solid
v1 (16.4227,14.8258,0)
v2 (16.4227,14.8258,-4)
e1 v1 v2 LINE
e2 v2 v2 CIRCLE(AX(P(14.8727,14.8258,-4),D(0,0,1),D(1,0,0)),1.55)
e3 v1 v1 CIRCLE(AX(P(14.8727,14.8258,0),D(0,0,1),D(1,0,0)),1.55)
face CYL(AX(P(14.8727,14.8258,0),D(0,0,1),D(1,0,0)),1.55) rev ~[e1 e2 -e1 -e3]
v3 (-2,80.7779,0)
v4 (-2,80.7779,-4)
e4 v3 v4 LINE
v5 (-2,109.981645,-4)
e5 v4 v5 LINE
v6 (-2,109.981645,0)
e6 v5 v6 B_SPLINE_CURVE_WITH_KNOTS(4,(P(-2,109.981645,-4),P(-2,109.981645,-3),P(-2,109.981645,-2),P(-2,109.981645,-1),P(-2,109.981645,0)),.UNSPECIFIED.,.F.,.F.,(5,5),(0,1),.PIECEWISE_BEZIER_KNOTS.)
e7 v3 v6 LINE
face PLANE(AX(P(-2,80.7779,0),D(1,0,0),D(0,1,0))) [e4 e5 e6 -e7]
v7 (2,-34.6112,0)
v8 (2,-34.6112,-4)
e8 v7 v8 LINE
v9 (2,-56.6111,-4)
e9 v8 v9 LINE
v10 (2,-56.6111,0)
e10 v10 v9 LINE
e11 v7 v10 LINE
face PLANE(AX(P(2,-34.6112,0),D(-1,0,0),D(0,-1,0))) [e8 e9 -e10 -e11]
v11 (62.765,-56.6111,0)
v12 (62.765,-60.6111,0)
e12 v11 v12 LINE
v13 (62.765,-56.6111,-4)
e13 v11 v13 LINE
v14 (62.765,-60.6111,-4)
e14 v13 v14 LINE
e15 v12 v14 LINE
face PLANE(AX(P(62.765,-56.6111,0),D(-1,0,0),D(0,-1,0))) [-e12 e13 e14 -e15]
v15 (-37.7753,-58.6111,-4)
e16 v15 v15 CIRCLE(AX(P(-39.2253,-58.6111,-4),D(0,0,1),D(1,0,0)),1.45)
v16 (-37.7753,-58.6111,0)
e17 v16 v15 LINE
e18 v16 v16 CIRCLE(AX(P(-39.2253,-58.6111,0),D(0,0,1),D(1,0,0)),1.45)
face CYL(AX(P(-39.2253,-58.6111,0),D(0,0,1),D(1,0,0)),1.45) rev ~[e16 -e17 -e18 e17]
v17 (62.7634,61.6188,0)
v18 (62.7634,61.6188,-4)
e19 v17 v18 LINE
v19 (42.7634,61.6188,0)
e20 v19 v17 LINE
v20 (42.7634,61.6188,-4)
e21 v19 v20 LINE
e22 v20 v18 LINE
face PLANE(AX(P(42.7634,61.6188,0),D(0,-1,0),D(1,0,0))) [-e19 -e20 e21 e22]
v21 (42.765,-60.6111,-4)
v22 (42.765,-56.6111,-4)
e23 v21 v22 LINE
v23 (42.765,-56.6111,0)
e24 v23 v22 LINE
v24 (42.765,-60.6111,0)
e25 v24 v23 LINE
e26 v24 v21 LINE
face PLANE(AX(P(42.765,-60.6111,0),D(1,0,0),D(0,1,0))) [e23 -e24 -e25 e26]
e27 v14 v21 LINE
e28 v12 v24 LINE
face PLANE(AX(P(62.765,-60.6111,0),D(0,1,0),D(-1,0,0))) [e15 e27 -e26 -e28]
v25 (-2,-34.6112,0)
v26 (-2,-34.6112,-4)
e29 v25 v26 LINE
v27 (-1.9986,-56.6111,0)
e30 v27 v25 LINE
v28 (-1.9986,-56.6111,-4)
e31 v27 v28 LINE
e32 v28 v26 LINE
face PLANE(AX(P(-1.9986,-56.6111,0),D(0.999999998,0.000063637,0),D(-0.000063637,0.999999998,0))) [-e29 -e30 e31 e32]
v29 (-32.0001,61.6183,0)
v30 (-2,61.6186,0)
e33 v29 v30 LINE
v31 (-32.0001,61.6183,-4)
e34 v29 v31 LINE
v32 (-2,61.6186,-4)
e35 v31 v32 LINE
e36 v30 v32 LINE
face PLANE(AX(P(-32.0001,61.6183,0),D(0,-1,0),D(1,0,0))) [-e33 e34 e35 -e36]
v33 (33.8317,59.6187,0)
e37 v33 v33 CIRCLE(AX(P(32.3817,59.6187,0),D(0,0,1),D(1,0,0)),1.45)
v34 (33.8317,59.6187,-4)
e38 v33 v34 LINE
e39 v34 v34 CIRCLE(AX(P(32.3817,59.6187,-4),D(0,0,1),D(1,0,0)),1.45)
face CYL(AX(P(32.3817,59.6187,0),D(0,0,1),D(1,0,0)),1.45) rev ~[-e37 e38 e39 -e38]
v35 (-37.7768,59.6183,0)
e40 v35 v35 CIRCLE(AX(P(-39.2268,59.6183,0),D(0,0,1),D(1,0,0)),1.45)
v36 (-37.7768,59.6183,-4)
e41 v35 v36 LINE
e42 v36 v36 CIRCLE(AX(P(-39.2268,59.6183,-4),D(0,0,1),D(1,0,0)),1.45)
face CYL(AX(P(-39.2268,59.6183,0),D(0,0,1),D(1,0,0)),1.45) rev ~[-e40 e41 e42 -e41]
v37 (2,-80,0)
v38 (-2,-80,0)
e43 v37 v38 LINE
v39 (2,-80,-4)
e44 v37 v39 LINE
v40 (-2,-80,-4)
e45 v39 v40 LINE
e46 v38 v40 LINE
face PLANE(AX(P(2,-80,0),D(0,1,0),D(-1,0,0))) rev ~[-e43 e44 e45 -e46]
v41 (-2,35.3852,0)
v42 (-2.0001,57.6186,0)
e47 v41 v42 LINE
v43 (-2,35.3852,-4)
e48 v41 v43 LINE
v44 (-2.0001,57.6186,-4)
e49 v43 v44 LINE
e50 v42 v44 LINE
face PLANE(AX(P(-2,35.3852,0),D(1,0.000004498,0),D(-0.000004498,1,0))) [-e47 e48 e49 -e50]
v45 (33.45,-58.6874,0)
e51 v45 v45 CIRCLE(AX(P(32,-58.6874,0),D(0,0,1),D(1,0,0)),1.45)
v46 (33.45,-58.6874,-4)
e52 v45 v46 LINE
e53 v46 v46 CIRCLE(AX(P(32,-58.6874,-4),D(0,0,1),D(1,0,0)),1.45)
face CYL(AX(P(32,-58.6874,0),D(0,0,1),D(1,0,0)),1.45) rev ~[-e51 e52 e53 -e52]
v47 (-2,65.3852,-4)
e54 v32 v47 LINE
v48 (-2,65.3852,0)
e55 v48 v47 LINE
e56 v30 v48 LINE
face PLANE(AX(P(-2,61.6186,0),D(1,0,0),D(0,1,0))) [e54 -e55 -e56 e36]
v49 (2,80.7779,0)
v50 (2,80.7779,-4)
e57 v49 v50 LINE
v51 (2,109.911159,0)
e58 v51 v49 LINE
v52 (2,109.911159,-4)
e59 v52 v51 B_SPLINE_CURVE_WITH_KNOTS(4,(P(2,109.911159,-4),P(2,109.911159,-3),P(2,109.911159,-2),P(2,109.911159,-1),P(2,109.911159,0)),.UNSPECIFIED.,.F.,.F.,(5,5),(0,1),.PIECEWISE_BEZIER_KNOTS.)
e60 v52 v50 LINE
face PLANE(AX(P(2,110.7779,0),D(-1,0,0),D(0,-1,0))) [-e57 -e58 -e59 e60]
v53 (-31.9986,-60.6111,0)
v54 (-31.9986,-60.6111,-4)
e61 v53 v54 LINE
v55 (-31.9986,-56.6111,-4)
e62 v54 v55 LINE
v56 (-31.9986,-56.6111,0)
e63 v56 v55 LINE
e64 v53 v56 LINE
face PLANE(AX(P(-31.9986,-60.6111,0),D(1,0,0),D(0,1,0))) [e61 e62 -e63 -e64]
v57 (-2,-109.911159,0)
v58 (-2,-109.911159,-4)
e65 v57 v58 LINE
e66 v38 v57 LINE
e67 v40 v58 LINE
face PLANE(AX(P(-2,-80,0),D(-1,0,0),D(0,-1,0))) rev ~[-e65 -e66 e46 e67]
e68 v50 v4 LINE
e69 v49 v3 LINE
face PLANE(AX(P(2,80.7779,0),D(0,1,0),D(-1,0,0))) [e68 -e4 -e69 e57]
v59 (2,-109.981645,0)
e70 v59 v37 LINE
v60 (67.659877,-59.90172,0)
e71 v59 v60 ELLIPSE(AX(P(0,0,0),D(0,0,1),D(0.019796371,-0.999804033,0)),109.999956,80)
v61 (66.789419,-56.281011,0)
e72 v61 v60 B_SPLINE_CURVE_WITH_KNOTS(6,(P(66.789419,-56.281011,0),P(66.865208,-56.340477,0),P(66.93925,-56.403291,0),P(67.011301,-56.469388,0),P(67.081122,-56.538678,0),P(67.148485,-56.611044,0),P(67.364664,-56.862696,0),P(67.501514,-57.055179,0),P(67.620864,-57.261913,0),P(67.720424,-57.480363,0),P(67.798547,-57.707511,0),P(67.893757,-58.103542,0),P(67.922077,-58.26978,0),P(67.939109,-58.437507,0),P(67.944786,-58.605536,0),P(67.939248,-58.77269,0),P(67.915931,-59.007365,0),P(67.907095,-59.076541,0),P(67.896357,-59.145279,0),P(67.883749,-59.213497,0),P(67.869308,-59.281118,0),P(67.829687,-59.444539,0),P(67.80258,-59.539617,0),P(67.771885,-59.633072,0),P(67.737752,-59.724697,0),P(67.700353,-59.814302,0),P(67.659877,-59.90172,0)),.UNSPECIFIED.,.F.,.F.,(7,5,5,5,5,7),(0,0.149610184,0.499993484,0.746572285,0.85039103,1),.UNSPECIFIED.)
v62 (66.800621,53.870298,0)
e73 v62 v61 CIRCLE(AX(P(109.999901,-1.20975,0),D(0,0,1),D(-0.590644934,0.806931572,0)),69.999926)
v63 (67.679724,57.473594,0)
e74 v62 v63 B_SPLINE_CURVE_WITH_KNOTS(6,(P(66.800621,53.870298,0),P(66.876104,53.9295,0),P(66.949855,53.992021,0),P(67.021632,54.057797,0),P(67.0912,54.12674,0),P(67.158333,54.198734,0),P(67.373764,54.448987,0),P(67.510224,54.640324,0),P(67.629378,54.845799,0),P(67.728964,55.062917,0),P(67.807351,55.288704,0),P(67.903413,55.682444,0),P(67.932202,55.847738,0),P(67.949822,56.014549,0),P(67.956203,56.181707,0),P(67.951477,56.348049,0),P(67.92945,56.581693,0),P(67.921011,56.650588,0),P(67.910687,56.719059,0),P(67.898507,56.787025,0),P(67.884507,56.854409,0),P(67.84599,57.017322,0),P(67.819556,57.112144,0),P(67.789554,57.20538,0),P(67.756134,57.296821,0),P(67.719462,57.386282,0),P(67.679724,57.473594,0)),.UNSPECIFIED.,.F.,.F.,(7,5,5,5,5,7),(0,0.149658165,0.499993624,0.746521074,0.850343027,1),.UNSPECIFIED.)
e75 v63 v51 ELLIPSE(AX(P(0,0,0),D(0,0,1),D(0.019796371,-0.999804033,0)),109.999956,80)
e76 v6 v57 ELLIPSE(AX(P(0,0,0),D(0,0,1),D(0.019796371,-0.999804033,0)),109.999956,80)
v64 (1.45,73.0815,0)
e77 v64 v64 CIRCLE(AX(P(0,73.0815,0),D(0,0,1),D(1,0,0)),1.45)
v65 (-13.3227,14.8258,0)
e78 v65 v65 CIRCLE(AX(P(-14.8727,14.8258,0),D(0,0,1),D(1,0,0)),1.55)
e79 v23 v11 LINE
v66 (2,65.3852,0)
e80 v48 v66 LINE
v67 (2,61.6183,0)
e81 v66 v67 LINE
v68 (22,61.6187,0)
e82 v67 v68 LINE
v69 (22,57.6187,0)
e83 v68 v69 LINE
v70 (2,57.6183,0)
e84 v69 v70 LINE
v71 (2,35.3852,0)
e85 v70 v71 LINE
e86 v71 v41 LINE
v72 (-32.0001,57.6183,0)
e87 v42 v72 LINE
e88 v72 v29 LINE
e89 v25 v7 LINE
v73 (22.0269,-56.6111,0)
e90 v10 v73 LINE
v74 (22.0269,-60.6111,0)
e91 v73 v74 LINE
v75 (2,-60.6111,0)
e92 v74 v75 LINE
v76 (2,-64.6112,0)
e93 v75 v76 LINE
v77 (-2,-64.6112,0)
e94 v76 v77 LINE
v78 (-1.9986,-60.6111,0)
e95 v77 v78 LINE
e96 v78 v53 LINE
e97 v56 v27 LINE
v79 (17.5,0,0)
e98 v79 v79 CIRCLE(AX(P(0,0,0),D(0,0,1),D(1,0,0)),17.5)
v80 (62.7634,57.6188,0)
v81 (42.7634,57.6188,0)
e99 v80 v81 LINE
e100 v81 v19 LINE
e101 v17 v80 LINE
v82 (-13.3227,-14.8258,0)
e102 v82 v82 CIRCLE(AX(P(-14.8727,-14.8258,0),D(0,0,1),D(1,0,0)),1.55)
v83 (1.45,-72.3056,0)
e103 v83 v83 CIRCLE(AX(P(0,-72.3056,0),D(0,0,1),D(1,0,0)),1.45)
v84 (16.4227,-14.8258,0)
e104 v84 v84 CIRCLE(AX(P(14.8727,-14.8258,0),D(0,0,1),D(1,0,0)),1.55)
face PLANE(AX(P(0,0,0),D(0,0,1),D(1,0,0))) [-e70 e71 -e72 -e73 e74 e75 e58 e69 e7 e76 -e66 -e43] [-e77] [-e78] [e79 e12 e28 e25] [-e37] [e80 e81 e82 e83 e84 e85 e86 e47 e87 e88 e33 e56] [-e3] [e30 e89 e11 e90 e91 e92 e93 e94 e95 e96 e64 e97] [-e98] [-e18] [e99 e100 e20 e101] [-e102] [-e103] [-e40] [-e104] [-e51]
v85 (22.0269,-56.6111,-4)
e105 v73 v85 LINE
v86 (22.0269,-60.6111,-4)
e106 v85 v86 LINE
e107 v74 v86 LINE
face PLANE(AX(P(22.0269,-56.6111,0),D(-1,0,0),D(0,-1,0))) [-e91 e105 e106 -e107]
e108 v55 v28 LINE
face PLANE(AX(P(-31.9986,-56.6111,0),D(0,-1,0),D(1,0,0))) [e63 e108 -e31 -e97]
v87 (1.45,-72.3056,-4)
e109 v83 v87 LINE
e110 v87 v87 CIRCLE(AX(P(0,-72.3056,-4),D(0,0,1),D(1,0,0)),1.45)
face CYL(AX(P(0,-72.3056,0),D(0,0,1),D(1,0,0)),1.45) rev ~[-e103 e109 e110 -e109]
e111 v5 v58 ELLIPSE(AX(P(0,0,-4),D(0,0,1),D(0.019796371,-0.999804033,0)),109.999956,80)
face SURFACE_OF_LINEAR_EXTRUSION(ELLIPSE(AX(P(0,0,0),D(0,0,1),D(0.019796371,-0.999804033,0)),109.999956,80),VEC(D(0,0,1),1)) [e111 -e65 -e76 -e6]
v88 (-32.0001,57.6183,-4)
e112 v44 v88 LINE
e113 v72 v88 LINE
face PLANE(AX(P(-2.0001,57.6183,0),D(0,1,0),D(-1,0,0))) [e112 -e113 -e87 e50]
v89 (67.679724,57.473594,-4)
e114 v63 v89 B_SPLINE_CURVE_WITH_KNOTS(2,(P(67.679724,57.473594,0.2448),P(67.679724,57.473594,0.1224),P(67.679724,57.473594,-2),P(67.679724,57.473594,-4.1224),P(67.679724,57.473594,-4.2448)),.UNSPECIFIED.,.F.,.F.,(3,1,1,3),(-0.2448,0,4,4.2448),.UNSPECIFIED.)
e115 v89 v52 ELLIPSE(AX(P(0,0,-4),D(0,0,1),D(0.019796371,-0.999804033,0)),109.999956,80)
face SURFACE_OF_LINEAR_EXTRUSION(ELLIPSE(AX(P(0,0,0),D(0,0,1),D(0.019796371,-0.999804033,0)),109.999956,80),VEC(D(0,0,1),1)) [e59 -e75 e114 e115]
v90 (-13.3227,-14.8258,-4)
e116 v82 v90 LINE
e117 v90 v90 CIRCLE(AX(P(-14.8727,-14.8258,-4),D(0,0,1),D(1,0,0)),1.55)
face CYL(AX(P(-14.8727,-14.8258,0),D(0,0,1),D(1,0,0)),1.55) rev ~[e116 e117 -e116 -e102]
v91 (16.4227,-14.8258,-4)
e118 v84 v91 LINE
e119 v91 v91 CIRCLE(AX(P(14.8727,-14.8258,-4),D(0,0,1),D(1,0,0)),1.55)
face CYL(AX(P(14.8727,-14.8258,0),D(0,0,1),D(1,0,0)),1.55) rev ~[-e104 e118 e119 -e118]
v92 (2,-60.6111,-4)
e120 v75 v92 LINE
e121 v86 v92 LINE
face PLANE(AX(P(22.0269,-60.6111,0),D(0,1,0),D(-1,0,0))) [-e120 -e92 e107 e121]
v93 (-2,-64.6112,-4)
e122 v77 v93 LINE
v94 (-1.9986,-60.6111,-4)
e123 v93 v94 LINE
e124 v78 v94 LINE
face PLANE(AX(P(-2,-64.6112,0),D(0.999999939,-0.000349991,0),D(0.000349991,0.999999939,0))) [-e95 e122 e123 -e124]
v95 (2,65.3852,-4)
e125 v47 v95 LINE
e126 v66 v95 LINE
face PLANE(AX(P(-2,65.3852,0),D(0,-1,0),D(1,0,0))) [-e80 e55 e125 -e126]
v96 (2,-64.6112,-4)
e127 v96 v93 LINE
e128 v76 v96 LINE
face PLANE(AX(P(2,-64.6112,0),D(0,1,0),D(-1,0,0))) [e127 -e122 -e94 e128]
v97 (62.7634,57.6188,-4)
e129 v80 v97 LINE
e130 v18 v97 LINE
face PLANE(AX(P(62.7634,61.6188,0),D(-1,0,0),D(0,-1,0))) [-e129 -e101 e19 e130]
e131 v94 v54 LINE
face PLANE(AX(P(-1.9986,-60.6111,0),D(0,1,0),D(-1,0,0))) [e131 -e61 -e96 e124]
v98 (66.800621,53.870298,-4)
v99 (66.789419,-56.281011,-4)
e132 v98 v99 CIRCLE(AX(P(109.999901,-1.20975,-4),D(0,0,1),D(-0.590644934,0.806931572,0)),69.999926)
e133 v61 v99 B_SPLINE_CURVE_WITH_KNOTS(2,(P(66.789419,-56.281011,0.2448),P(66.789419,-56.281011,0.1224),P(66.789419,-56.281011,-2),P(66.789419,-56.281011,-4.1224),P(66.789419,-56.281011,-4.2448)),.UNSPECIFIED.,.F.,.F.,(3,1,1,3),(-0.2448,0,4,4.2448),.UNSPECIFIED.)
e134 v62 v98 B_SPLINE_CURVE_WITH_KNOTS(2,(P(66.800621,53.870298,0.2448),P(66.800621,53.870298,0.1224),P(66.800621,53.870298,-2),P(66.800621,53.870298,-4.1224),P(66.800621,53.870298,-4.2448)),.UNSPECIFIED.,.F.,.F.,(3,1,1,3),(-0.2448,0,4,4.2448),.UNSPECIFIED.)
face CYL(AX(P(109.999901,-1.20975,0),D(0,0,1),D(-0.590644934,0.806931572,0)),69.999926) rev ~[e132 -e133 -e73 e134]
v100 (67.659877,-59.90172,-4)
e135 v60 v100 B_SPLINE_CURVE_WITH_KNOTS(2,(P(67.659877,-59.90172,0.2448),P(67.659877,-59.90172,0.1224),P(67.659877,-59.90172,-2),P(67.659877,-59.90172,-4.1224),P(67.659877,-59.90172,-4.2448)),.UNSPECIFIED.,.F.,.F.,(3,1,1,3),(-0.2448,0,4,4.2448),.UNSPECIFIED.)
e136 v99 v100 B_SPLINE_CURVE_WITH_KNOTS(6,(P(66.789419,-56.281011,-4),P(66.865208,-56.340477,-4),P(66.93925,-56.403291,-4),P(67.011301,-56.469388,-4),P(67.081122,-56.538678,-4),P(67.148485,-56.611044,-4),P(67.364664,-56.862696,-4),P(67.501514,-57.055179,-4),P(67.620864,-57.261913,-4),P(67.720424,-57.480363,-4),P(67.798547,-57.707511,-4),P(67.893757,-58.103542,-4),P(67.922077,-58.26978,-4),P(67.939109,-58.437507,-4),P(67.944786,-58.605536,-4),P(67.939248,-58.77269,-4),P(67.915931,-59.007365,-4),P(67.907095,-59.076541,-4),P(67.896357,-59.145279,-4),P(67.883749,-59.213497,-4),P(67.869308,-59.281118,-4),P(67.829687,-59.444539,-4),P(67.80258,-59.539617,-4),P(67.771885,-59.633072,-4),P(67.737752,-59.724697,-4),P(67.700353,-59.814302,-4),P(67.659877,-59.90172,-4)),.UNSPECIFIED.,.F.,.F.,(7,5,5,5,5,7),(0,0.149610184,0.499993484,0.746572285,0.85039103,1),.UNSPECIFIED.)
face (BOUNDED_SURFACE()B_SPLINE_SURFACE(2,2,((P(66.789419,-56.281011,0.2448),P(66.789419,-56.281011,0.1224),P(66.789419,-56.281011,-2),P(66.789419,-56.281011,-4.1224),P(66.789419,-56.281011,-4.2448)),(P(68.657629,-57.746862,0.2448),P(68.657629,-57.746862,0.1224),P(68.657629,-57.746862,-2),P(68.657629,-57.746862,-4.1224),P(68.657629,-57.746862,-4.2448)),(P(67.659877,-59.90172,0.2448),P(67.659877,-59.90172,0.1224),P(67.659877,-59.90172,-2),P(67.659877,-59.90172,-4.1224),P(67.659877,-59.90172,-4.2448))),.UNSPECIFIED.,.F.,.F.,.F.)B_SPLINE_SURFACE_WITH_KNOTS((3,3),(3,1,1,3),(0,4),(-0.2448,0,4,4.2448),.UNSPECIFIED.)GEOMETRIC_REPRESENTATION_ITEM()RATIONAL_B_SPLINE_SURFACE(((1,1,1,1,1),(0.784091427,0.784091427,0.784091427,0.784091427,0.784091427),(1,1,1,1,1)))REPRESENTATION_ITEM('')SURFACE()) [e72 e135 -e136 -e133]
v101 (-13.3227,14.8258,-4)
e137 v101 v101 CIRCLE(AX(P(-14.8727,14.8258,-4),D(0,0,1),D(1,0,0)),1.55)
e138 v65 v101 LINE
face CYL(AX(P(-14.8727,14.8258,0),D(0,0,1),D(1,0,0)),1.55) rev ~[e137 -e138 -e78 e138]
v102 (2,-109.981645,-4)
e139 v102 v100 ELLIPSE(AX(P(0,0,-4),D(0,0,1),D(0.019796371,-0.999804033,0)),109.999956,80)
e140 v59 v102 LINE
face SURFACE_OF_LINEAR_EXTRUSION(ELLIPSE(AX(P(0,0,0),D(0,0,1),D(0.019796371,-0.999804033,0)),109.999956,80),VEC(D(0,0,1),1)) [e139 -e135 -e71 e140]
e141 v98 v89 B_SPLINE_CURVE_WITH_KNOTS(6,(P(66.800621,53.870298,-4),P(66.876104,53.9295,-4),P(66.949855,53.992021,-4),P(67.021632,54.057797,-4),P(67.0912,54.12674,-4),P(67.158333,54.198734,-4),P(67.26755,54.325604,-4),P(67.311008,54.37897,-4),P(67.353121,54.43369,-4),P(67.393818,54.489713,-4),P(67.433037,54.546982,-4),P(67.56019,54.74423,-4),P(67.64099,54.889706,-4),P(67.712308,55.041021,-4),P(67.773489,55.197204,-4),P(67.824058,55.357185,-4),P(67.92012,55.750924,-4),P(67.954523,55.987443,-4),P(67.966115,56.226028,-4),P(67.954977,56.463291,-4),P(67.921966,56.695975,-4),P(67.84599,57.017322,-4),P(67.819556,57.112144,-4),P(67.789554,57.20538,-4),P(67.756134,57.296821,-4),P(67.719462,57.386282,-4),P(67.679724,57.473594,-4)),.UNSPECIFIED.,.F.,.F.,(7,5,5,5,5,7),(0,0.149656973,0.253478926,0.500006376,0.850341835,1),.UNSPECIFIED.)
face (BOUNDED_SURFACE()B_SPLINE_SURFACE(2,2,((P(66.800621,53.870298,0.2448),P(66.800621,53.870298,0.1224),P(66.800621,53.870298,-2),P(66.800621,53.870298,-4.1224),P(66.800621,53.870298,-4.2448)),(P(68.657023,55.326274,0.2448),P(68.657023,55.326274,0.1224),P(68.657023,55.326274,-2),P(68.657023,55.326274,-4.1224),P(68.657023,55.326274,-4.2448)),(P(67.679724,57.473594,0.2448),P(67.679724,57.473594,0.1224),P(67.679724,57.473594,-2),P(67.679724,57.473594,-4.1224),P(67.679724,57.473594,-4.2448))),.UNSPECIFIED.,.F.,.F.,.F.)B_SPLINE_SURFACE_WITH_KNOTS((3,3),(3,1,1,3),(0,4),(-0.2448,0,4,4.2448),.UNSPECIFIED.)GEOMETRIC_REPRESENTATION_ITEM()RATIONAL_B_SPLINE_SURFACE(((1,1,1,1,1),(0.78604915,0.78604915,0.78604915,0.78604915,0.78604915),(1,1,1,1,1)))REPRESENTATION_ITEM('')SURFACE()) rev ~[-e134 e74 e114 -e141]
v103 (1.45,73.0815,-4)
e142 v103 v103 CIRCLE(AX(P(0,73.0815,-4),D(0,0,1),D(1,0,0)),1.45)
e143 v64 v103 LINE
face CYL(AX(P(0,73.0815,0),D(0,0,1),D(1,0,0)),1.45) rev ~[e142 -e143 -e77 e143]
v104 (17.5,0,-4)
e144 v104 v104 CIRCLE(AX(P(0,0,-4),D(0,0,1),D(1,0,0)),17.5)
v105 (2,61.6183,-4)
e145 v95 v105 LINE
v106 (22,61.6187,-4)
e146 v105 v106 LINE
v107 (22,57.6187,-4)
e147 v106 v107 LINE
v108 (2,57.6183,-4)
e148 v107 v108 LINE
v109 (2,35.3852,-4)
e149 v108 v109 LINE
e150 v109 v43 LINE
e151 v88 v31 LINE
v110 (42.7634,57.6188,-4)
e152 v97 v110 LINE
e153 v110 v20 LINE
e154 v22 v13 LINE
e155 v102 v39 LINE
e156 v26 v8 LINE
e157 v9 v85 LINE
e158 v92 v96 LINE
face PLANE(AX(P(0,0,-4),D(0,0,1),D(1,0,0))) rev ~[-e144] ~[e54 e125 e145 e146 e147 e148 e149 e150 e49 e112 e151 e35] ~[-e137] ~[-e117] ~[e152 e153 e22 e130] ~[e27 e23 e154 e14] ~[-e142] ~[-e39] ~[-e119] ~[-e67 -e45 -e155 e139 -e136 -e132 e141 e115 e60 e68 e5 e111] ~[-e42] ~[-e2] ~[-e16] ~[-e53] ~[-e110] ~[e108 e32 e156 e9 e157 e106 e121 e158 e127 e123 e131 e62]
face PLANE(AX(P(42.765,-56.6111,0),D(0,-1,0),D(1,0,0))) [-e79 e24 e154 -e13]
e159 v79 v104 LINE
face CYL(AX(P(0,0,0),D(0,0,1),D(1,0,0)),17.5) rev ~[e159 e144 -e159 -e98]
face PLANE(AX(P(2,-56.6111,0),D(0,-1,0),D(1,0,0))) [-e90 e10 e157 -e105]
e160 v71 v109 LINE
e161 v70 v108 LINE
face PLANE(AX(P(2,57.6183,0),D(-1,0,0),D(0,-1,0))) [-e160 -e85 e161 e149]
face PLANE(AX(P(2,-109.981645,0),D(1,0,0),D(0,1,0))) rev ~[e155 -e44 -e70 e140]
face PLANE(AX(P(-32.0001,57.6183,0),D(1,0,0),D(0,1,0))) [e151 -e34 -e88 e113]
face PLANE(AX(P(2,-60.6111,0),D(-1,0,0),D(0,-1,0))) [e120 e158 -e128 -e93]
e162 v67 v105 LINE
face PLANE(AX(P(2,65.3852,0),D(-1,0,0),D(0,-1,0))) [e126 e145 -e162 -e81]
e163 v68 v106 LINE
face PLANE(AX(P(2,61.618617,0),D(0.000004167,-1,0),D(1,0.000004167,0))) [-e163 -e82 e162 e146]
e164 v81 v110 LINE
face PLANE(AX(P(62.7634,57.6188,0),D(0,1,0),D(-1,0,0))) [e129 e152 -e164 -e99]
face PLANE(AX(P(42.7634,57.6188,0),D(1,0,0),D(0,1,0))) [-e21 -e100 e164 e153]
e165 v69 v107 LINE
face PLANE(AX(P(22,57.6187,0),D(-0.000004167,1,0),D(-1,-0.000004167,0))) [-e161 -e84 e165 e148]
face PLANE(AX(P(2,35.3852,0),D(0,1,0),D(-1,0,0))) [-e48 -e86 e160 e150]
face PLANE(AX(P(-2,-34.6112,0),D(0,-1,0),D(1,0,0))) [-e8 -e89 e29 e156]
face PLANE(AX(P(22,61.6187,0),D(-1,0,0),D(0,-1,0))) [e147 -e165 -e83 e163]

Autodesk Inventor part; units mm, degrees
ref_plane "YZ Plane" through (0, 0, 0) normal (1, 0, 0) x (0, 1, 0)
ref_plane "XZ Plane" through (0, 0, 0) normal (0, 1, 0) x (-1, 0, 0)
ref_plane "XY Plane" through (0, 0, 0) normal (0, 0, 1) x (1, 0, 0)
sketch "Эскиз1" plane through (0, 0, 0) normal (0, 0, 1) x (1, 0, 0)
  ellipse E0 centre (0, 0) end of major axis (2.1776, -109.9784) minor radius 80 (68.6548, 55.2754) -> (68.6548, -57.6949) ccw
  circle A0 centre (0, 0) radius 17.5
  line L0 (-129.1764, 146.988) -> (-129.1764, 142.988) construction
  line L1 (-149.1764, 146.9879) -> (-129.1764, 146.988) construction
  line L2 (-149.1764, 142.9879) -> (-149.1764, 146.9879) construction
  line L3 (-129.1764, 142.988) -> (-149.1764, 142.9879) construction
  line L4 (-169.9145, 146.9879) -> (-169.9145, 142.9879) construction
  line L5 (-189.9145, 146.9878) -> (-169.9145, 146.9879) construction
  line L6 (-189.9145, 142.9878) -> (-189.9145, 146.9878) construction
  line L7 (-169.9145, 142.9879) -> (-189.9145, 142.9878) construction
  arc A1 (68.6548, 55.2754) -> (68.6548, -57.6949) centre (110, -1.2098) ccw
  line L8 (68.6548, 55.2754) -> (68.6548, -57.6949) construction
  line L9 (0, 109.9808) -> (0, -109.9808) construction
  line L10 (-2, -110) -> (2, -110)
  line L11 (2, -110) -> (2, -80)
  line L12 (2, -80) -> (-2, -80)
  line L13 (-2, -80) -> (-2, -110)
  line L14 (2, -110) -> (-2, -80) construction
  point P0 (0, -95)
  point P1 (0, -110)
  point P2 (-2, -109.9112)
  point P3 (2, -109.9817)
  dimension "d0" = 110
  dimension "d1" = 80
  dimension "d4" = 35
  dimension "d19" = 70
  dimension "d21" = 110
  dimension "d24" = 4
  dimension "d25" = 30
  dimension "d26" = 110
extrude "Выдавливание1" add sketch "Эскиз1" against normal blind 4 contours A1 E0 L11 L12 L13
fillet "Сопряжение1" radius 3 2 edges at (68.6548, 55.2754, -2) (68.6548, -57.6949, -2)
sketch "Эскиз5" plane through (0, 0, 0) normal (0, 0, 1) x (1, 0, 0)
  line L0 (-2, -110) -> (-2, -80)
  line L1 (-2, -80) -> (2, -80)
  line L2 (2, -80) -> (2, -110)
  line L3 (2, -110) -> (-2, -110)
  line L4 (-2, -34.6112) -> (2, -34.6112)
  line L5 (2, -64.6112) -> (-2, -64.6112)
  line L6 (-2, 65.3852) -> (2, 65.3852)
  line L7 (2, 35.3852) -> (-2, 35.3852)
  line L8 (-2, 80.7779) -> (-2, 110.7779)
  line L9 (-2, 110.7779) -> (2, 110.7779)
  line L10 (2, 110.7779) -> (2, 80.7779)
  line L11 (2, 80.7779) -> (-2, 80.7779)
  line L12 (-49.2252, -56.6111) -> (-46.452, -56.6111) construction
  line L13 (-46.452, -56.6111) -> (-46.452, -60.6111) construction
  line L14 (-46.452, -60.6111) -> (-49.2252, -60.6111) construction
  line L15 (-49.2252, -56.6111) -> (-49.2252, -60.6111) construction
  line L16 (-1.9986, -60.6111) -> (-31.9986, -60.6111)
  line L17 (-31.9986, -60.6111) -> (-31.9986, -56.6111)
  line L18 (-31.9986, -56.6111) -> (-1.9986, -56.6111)
  line L19 (2, -56.6111) -> (22.0269, -56.6111)
  line L20 (22.0269, -56.6111) -> (22.0269, -60.6111)
  line L21 (22.0269, -60.6111) -> (2, -60.6111)
  line L22 (42.765, -56.6111) -> (62.765, -56.6111)
  line L23 (62.765, -56.6111) -> (62.765, -60.6111)
  line L24 (62.765, -60.6111) -> (42.765, -60.6111)
  line L25 (42.765, -60.6111) -> (42.765, -56.6111)
  line L26 (-46.4535, 57.6183) -> (-49.2267, 57.6183) construction
  line L27 (-49.2267, 61.6183) -> (-49.2267, 57.6183) construction
  line L28 (-49.2267, 61.6183) -> (-46.4535, 61.6183) construction
  line L29 (-46.4535, 61.6183) -> (-46.4535, 57.6183) construction
  line L30 (-32.0001, 61.6183) -> (2, 61.6183)
  line L31 (-2.0001, 57.6186) -> (-2.0001, 57.6183)
  line L32 (2, 57.6183) -> (-32.0001, 57.6183)
  line L33 (-32.0001, 57.6183) -> (-32.0001, 61.6183)
  line L34 (62.7634, 61.6188) -> (62.7634, 57.6188)
  line L35 (42.7634, 61.6188) -> (62.7634, 61.6188)
  line L36 (62.7634, 57.6188) -> (42.7634, 57.6188)
  line L37 (42.7634, 57.6188) -> (42.7634, 61.6188)
  line L38 (22, 61.6187) -> (22, 57.6187)
  line L39 (22, 57.6187) -> (-2, 57.6186)
  line L40 (-2, 61.6186) -> (22, 61.6187)
  line L41 (-31.9986, -56.6111) -> (-46.452, -60.6111) construction
  circle A0 centre (-39.2253, -58.6111) radius 1.45
  line L42 (-2, -64.6112) -> (2, -80) construction
  circle A1 centre (0, -72.3056) radius 1.45
  line L43 (-46.4535, 57.6183) -> (-32.0001, 61.6183) construction
  circle A2 centre (-39.2268, 59.6183) radius 1.45
  line L44 (-2, 35.3852) -> (-2, 57.6186)
  line L45 (-2, 61.6183) -> (-2, 65.3852)
  line L46 (-2, -64.6112) -> (-2, -60.6111)
  line L47 (-2, -56.6111) -> (-2, -34.6112)
  line L48 (2, -34.6112) -> (2, -56.6111)
  line L49 (2, -60.6111) -> (2, -64.6112)
  line L50 (2, 65.3852) -> (2, 61.6186)
  line L51 (2, 57.6186) -> (2, 35.3852)
  line L52 (-2, 80.7779) -> (2, 65.3852) construction
  circle A3 centre (0, 73.0815) radius 1.45
  line L53 (2, 61.6186) -> (2, 57.6186)
  line L54 (-2, 57.6186) -> (-2, 61.6183)
  line L55 (2, -56.6111) -> (2, -60.6111)
  line L56 (-2, -60.6111) -> (-2, -56.6111)
  line L57 (42.7634, 61.6188) -> (22, 57.6187) construction
  circle A4 centre (32.3817, 59.6187) radius 1.45
  line L58 (42.765, -56.6111) -> (22.0269, -60.6111) construction
  circle A5 centre (32, -58.6874) radius 1.45
  point P0 (0, 0)
  point P1 (-2, 57.6183)
  dimension "d33" = 2.9
  dimension "d34" = 2.9
  dimension "d35" = 2.9
  dimension "d36" = 2.9
  dimension "d37" = 2.9
  dimension "d38" = 2.9
extrude "Выдавливание3" cut sketch "Эскиз5" against normal blind 4
sketch "Эскиз8" plane through (0, 0, 0) normal (0, 0, 1) x (1, 0, 0)
  circle A0 centre (14.8727, 14.8258) radius 1.55
  circle A1 centre (-14.8727, -14.8258) radius 1.55
  line L0 (0, 0) -> (0, 17.5) construction
  circle A2 centre (0, 0) radius 17.5 construction
  line L1 (-14.8727, -14.8258) -> (14.8727, -14.8258) construction
  line L2 (14.8727, -14.8258) -> (14.8727, 14.8258) construction
  line L3 (14.8727, 14.8258) -> (-14.8727, 14.8258) construction
  line L4 (-14.8727, 14.8258) -> (-14.8727, -14.8258) construction
  line L5 (-14.8727, -14.8258) -> (14.8727, 14.8258) construction
  circle A3 centre (-14.8727, 14.8258) radius 1.55
  circle A4 centre (14.8727, -14.8258) radius 1.55
  dimension "d39" = 3.1
  dimension "d40" = 3.1
  dimension "d46" = 3.1
  dimension "d47" = 3.1
extrude "Выдавливание6" cut sketch "Эскиз8" against normal blind 10
properties part number "верхний эллипс туловища"
